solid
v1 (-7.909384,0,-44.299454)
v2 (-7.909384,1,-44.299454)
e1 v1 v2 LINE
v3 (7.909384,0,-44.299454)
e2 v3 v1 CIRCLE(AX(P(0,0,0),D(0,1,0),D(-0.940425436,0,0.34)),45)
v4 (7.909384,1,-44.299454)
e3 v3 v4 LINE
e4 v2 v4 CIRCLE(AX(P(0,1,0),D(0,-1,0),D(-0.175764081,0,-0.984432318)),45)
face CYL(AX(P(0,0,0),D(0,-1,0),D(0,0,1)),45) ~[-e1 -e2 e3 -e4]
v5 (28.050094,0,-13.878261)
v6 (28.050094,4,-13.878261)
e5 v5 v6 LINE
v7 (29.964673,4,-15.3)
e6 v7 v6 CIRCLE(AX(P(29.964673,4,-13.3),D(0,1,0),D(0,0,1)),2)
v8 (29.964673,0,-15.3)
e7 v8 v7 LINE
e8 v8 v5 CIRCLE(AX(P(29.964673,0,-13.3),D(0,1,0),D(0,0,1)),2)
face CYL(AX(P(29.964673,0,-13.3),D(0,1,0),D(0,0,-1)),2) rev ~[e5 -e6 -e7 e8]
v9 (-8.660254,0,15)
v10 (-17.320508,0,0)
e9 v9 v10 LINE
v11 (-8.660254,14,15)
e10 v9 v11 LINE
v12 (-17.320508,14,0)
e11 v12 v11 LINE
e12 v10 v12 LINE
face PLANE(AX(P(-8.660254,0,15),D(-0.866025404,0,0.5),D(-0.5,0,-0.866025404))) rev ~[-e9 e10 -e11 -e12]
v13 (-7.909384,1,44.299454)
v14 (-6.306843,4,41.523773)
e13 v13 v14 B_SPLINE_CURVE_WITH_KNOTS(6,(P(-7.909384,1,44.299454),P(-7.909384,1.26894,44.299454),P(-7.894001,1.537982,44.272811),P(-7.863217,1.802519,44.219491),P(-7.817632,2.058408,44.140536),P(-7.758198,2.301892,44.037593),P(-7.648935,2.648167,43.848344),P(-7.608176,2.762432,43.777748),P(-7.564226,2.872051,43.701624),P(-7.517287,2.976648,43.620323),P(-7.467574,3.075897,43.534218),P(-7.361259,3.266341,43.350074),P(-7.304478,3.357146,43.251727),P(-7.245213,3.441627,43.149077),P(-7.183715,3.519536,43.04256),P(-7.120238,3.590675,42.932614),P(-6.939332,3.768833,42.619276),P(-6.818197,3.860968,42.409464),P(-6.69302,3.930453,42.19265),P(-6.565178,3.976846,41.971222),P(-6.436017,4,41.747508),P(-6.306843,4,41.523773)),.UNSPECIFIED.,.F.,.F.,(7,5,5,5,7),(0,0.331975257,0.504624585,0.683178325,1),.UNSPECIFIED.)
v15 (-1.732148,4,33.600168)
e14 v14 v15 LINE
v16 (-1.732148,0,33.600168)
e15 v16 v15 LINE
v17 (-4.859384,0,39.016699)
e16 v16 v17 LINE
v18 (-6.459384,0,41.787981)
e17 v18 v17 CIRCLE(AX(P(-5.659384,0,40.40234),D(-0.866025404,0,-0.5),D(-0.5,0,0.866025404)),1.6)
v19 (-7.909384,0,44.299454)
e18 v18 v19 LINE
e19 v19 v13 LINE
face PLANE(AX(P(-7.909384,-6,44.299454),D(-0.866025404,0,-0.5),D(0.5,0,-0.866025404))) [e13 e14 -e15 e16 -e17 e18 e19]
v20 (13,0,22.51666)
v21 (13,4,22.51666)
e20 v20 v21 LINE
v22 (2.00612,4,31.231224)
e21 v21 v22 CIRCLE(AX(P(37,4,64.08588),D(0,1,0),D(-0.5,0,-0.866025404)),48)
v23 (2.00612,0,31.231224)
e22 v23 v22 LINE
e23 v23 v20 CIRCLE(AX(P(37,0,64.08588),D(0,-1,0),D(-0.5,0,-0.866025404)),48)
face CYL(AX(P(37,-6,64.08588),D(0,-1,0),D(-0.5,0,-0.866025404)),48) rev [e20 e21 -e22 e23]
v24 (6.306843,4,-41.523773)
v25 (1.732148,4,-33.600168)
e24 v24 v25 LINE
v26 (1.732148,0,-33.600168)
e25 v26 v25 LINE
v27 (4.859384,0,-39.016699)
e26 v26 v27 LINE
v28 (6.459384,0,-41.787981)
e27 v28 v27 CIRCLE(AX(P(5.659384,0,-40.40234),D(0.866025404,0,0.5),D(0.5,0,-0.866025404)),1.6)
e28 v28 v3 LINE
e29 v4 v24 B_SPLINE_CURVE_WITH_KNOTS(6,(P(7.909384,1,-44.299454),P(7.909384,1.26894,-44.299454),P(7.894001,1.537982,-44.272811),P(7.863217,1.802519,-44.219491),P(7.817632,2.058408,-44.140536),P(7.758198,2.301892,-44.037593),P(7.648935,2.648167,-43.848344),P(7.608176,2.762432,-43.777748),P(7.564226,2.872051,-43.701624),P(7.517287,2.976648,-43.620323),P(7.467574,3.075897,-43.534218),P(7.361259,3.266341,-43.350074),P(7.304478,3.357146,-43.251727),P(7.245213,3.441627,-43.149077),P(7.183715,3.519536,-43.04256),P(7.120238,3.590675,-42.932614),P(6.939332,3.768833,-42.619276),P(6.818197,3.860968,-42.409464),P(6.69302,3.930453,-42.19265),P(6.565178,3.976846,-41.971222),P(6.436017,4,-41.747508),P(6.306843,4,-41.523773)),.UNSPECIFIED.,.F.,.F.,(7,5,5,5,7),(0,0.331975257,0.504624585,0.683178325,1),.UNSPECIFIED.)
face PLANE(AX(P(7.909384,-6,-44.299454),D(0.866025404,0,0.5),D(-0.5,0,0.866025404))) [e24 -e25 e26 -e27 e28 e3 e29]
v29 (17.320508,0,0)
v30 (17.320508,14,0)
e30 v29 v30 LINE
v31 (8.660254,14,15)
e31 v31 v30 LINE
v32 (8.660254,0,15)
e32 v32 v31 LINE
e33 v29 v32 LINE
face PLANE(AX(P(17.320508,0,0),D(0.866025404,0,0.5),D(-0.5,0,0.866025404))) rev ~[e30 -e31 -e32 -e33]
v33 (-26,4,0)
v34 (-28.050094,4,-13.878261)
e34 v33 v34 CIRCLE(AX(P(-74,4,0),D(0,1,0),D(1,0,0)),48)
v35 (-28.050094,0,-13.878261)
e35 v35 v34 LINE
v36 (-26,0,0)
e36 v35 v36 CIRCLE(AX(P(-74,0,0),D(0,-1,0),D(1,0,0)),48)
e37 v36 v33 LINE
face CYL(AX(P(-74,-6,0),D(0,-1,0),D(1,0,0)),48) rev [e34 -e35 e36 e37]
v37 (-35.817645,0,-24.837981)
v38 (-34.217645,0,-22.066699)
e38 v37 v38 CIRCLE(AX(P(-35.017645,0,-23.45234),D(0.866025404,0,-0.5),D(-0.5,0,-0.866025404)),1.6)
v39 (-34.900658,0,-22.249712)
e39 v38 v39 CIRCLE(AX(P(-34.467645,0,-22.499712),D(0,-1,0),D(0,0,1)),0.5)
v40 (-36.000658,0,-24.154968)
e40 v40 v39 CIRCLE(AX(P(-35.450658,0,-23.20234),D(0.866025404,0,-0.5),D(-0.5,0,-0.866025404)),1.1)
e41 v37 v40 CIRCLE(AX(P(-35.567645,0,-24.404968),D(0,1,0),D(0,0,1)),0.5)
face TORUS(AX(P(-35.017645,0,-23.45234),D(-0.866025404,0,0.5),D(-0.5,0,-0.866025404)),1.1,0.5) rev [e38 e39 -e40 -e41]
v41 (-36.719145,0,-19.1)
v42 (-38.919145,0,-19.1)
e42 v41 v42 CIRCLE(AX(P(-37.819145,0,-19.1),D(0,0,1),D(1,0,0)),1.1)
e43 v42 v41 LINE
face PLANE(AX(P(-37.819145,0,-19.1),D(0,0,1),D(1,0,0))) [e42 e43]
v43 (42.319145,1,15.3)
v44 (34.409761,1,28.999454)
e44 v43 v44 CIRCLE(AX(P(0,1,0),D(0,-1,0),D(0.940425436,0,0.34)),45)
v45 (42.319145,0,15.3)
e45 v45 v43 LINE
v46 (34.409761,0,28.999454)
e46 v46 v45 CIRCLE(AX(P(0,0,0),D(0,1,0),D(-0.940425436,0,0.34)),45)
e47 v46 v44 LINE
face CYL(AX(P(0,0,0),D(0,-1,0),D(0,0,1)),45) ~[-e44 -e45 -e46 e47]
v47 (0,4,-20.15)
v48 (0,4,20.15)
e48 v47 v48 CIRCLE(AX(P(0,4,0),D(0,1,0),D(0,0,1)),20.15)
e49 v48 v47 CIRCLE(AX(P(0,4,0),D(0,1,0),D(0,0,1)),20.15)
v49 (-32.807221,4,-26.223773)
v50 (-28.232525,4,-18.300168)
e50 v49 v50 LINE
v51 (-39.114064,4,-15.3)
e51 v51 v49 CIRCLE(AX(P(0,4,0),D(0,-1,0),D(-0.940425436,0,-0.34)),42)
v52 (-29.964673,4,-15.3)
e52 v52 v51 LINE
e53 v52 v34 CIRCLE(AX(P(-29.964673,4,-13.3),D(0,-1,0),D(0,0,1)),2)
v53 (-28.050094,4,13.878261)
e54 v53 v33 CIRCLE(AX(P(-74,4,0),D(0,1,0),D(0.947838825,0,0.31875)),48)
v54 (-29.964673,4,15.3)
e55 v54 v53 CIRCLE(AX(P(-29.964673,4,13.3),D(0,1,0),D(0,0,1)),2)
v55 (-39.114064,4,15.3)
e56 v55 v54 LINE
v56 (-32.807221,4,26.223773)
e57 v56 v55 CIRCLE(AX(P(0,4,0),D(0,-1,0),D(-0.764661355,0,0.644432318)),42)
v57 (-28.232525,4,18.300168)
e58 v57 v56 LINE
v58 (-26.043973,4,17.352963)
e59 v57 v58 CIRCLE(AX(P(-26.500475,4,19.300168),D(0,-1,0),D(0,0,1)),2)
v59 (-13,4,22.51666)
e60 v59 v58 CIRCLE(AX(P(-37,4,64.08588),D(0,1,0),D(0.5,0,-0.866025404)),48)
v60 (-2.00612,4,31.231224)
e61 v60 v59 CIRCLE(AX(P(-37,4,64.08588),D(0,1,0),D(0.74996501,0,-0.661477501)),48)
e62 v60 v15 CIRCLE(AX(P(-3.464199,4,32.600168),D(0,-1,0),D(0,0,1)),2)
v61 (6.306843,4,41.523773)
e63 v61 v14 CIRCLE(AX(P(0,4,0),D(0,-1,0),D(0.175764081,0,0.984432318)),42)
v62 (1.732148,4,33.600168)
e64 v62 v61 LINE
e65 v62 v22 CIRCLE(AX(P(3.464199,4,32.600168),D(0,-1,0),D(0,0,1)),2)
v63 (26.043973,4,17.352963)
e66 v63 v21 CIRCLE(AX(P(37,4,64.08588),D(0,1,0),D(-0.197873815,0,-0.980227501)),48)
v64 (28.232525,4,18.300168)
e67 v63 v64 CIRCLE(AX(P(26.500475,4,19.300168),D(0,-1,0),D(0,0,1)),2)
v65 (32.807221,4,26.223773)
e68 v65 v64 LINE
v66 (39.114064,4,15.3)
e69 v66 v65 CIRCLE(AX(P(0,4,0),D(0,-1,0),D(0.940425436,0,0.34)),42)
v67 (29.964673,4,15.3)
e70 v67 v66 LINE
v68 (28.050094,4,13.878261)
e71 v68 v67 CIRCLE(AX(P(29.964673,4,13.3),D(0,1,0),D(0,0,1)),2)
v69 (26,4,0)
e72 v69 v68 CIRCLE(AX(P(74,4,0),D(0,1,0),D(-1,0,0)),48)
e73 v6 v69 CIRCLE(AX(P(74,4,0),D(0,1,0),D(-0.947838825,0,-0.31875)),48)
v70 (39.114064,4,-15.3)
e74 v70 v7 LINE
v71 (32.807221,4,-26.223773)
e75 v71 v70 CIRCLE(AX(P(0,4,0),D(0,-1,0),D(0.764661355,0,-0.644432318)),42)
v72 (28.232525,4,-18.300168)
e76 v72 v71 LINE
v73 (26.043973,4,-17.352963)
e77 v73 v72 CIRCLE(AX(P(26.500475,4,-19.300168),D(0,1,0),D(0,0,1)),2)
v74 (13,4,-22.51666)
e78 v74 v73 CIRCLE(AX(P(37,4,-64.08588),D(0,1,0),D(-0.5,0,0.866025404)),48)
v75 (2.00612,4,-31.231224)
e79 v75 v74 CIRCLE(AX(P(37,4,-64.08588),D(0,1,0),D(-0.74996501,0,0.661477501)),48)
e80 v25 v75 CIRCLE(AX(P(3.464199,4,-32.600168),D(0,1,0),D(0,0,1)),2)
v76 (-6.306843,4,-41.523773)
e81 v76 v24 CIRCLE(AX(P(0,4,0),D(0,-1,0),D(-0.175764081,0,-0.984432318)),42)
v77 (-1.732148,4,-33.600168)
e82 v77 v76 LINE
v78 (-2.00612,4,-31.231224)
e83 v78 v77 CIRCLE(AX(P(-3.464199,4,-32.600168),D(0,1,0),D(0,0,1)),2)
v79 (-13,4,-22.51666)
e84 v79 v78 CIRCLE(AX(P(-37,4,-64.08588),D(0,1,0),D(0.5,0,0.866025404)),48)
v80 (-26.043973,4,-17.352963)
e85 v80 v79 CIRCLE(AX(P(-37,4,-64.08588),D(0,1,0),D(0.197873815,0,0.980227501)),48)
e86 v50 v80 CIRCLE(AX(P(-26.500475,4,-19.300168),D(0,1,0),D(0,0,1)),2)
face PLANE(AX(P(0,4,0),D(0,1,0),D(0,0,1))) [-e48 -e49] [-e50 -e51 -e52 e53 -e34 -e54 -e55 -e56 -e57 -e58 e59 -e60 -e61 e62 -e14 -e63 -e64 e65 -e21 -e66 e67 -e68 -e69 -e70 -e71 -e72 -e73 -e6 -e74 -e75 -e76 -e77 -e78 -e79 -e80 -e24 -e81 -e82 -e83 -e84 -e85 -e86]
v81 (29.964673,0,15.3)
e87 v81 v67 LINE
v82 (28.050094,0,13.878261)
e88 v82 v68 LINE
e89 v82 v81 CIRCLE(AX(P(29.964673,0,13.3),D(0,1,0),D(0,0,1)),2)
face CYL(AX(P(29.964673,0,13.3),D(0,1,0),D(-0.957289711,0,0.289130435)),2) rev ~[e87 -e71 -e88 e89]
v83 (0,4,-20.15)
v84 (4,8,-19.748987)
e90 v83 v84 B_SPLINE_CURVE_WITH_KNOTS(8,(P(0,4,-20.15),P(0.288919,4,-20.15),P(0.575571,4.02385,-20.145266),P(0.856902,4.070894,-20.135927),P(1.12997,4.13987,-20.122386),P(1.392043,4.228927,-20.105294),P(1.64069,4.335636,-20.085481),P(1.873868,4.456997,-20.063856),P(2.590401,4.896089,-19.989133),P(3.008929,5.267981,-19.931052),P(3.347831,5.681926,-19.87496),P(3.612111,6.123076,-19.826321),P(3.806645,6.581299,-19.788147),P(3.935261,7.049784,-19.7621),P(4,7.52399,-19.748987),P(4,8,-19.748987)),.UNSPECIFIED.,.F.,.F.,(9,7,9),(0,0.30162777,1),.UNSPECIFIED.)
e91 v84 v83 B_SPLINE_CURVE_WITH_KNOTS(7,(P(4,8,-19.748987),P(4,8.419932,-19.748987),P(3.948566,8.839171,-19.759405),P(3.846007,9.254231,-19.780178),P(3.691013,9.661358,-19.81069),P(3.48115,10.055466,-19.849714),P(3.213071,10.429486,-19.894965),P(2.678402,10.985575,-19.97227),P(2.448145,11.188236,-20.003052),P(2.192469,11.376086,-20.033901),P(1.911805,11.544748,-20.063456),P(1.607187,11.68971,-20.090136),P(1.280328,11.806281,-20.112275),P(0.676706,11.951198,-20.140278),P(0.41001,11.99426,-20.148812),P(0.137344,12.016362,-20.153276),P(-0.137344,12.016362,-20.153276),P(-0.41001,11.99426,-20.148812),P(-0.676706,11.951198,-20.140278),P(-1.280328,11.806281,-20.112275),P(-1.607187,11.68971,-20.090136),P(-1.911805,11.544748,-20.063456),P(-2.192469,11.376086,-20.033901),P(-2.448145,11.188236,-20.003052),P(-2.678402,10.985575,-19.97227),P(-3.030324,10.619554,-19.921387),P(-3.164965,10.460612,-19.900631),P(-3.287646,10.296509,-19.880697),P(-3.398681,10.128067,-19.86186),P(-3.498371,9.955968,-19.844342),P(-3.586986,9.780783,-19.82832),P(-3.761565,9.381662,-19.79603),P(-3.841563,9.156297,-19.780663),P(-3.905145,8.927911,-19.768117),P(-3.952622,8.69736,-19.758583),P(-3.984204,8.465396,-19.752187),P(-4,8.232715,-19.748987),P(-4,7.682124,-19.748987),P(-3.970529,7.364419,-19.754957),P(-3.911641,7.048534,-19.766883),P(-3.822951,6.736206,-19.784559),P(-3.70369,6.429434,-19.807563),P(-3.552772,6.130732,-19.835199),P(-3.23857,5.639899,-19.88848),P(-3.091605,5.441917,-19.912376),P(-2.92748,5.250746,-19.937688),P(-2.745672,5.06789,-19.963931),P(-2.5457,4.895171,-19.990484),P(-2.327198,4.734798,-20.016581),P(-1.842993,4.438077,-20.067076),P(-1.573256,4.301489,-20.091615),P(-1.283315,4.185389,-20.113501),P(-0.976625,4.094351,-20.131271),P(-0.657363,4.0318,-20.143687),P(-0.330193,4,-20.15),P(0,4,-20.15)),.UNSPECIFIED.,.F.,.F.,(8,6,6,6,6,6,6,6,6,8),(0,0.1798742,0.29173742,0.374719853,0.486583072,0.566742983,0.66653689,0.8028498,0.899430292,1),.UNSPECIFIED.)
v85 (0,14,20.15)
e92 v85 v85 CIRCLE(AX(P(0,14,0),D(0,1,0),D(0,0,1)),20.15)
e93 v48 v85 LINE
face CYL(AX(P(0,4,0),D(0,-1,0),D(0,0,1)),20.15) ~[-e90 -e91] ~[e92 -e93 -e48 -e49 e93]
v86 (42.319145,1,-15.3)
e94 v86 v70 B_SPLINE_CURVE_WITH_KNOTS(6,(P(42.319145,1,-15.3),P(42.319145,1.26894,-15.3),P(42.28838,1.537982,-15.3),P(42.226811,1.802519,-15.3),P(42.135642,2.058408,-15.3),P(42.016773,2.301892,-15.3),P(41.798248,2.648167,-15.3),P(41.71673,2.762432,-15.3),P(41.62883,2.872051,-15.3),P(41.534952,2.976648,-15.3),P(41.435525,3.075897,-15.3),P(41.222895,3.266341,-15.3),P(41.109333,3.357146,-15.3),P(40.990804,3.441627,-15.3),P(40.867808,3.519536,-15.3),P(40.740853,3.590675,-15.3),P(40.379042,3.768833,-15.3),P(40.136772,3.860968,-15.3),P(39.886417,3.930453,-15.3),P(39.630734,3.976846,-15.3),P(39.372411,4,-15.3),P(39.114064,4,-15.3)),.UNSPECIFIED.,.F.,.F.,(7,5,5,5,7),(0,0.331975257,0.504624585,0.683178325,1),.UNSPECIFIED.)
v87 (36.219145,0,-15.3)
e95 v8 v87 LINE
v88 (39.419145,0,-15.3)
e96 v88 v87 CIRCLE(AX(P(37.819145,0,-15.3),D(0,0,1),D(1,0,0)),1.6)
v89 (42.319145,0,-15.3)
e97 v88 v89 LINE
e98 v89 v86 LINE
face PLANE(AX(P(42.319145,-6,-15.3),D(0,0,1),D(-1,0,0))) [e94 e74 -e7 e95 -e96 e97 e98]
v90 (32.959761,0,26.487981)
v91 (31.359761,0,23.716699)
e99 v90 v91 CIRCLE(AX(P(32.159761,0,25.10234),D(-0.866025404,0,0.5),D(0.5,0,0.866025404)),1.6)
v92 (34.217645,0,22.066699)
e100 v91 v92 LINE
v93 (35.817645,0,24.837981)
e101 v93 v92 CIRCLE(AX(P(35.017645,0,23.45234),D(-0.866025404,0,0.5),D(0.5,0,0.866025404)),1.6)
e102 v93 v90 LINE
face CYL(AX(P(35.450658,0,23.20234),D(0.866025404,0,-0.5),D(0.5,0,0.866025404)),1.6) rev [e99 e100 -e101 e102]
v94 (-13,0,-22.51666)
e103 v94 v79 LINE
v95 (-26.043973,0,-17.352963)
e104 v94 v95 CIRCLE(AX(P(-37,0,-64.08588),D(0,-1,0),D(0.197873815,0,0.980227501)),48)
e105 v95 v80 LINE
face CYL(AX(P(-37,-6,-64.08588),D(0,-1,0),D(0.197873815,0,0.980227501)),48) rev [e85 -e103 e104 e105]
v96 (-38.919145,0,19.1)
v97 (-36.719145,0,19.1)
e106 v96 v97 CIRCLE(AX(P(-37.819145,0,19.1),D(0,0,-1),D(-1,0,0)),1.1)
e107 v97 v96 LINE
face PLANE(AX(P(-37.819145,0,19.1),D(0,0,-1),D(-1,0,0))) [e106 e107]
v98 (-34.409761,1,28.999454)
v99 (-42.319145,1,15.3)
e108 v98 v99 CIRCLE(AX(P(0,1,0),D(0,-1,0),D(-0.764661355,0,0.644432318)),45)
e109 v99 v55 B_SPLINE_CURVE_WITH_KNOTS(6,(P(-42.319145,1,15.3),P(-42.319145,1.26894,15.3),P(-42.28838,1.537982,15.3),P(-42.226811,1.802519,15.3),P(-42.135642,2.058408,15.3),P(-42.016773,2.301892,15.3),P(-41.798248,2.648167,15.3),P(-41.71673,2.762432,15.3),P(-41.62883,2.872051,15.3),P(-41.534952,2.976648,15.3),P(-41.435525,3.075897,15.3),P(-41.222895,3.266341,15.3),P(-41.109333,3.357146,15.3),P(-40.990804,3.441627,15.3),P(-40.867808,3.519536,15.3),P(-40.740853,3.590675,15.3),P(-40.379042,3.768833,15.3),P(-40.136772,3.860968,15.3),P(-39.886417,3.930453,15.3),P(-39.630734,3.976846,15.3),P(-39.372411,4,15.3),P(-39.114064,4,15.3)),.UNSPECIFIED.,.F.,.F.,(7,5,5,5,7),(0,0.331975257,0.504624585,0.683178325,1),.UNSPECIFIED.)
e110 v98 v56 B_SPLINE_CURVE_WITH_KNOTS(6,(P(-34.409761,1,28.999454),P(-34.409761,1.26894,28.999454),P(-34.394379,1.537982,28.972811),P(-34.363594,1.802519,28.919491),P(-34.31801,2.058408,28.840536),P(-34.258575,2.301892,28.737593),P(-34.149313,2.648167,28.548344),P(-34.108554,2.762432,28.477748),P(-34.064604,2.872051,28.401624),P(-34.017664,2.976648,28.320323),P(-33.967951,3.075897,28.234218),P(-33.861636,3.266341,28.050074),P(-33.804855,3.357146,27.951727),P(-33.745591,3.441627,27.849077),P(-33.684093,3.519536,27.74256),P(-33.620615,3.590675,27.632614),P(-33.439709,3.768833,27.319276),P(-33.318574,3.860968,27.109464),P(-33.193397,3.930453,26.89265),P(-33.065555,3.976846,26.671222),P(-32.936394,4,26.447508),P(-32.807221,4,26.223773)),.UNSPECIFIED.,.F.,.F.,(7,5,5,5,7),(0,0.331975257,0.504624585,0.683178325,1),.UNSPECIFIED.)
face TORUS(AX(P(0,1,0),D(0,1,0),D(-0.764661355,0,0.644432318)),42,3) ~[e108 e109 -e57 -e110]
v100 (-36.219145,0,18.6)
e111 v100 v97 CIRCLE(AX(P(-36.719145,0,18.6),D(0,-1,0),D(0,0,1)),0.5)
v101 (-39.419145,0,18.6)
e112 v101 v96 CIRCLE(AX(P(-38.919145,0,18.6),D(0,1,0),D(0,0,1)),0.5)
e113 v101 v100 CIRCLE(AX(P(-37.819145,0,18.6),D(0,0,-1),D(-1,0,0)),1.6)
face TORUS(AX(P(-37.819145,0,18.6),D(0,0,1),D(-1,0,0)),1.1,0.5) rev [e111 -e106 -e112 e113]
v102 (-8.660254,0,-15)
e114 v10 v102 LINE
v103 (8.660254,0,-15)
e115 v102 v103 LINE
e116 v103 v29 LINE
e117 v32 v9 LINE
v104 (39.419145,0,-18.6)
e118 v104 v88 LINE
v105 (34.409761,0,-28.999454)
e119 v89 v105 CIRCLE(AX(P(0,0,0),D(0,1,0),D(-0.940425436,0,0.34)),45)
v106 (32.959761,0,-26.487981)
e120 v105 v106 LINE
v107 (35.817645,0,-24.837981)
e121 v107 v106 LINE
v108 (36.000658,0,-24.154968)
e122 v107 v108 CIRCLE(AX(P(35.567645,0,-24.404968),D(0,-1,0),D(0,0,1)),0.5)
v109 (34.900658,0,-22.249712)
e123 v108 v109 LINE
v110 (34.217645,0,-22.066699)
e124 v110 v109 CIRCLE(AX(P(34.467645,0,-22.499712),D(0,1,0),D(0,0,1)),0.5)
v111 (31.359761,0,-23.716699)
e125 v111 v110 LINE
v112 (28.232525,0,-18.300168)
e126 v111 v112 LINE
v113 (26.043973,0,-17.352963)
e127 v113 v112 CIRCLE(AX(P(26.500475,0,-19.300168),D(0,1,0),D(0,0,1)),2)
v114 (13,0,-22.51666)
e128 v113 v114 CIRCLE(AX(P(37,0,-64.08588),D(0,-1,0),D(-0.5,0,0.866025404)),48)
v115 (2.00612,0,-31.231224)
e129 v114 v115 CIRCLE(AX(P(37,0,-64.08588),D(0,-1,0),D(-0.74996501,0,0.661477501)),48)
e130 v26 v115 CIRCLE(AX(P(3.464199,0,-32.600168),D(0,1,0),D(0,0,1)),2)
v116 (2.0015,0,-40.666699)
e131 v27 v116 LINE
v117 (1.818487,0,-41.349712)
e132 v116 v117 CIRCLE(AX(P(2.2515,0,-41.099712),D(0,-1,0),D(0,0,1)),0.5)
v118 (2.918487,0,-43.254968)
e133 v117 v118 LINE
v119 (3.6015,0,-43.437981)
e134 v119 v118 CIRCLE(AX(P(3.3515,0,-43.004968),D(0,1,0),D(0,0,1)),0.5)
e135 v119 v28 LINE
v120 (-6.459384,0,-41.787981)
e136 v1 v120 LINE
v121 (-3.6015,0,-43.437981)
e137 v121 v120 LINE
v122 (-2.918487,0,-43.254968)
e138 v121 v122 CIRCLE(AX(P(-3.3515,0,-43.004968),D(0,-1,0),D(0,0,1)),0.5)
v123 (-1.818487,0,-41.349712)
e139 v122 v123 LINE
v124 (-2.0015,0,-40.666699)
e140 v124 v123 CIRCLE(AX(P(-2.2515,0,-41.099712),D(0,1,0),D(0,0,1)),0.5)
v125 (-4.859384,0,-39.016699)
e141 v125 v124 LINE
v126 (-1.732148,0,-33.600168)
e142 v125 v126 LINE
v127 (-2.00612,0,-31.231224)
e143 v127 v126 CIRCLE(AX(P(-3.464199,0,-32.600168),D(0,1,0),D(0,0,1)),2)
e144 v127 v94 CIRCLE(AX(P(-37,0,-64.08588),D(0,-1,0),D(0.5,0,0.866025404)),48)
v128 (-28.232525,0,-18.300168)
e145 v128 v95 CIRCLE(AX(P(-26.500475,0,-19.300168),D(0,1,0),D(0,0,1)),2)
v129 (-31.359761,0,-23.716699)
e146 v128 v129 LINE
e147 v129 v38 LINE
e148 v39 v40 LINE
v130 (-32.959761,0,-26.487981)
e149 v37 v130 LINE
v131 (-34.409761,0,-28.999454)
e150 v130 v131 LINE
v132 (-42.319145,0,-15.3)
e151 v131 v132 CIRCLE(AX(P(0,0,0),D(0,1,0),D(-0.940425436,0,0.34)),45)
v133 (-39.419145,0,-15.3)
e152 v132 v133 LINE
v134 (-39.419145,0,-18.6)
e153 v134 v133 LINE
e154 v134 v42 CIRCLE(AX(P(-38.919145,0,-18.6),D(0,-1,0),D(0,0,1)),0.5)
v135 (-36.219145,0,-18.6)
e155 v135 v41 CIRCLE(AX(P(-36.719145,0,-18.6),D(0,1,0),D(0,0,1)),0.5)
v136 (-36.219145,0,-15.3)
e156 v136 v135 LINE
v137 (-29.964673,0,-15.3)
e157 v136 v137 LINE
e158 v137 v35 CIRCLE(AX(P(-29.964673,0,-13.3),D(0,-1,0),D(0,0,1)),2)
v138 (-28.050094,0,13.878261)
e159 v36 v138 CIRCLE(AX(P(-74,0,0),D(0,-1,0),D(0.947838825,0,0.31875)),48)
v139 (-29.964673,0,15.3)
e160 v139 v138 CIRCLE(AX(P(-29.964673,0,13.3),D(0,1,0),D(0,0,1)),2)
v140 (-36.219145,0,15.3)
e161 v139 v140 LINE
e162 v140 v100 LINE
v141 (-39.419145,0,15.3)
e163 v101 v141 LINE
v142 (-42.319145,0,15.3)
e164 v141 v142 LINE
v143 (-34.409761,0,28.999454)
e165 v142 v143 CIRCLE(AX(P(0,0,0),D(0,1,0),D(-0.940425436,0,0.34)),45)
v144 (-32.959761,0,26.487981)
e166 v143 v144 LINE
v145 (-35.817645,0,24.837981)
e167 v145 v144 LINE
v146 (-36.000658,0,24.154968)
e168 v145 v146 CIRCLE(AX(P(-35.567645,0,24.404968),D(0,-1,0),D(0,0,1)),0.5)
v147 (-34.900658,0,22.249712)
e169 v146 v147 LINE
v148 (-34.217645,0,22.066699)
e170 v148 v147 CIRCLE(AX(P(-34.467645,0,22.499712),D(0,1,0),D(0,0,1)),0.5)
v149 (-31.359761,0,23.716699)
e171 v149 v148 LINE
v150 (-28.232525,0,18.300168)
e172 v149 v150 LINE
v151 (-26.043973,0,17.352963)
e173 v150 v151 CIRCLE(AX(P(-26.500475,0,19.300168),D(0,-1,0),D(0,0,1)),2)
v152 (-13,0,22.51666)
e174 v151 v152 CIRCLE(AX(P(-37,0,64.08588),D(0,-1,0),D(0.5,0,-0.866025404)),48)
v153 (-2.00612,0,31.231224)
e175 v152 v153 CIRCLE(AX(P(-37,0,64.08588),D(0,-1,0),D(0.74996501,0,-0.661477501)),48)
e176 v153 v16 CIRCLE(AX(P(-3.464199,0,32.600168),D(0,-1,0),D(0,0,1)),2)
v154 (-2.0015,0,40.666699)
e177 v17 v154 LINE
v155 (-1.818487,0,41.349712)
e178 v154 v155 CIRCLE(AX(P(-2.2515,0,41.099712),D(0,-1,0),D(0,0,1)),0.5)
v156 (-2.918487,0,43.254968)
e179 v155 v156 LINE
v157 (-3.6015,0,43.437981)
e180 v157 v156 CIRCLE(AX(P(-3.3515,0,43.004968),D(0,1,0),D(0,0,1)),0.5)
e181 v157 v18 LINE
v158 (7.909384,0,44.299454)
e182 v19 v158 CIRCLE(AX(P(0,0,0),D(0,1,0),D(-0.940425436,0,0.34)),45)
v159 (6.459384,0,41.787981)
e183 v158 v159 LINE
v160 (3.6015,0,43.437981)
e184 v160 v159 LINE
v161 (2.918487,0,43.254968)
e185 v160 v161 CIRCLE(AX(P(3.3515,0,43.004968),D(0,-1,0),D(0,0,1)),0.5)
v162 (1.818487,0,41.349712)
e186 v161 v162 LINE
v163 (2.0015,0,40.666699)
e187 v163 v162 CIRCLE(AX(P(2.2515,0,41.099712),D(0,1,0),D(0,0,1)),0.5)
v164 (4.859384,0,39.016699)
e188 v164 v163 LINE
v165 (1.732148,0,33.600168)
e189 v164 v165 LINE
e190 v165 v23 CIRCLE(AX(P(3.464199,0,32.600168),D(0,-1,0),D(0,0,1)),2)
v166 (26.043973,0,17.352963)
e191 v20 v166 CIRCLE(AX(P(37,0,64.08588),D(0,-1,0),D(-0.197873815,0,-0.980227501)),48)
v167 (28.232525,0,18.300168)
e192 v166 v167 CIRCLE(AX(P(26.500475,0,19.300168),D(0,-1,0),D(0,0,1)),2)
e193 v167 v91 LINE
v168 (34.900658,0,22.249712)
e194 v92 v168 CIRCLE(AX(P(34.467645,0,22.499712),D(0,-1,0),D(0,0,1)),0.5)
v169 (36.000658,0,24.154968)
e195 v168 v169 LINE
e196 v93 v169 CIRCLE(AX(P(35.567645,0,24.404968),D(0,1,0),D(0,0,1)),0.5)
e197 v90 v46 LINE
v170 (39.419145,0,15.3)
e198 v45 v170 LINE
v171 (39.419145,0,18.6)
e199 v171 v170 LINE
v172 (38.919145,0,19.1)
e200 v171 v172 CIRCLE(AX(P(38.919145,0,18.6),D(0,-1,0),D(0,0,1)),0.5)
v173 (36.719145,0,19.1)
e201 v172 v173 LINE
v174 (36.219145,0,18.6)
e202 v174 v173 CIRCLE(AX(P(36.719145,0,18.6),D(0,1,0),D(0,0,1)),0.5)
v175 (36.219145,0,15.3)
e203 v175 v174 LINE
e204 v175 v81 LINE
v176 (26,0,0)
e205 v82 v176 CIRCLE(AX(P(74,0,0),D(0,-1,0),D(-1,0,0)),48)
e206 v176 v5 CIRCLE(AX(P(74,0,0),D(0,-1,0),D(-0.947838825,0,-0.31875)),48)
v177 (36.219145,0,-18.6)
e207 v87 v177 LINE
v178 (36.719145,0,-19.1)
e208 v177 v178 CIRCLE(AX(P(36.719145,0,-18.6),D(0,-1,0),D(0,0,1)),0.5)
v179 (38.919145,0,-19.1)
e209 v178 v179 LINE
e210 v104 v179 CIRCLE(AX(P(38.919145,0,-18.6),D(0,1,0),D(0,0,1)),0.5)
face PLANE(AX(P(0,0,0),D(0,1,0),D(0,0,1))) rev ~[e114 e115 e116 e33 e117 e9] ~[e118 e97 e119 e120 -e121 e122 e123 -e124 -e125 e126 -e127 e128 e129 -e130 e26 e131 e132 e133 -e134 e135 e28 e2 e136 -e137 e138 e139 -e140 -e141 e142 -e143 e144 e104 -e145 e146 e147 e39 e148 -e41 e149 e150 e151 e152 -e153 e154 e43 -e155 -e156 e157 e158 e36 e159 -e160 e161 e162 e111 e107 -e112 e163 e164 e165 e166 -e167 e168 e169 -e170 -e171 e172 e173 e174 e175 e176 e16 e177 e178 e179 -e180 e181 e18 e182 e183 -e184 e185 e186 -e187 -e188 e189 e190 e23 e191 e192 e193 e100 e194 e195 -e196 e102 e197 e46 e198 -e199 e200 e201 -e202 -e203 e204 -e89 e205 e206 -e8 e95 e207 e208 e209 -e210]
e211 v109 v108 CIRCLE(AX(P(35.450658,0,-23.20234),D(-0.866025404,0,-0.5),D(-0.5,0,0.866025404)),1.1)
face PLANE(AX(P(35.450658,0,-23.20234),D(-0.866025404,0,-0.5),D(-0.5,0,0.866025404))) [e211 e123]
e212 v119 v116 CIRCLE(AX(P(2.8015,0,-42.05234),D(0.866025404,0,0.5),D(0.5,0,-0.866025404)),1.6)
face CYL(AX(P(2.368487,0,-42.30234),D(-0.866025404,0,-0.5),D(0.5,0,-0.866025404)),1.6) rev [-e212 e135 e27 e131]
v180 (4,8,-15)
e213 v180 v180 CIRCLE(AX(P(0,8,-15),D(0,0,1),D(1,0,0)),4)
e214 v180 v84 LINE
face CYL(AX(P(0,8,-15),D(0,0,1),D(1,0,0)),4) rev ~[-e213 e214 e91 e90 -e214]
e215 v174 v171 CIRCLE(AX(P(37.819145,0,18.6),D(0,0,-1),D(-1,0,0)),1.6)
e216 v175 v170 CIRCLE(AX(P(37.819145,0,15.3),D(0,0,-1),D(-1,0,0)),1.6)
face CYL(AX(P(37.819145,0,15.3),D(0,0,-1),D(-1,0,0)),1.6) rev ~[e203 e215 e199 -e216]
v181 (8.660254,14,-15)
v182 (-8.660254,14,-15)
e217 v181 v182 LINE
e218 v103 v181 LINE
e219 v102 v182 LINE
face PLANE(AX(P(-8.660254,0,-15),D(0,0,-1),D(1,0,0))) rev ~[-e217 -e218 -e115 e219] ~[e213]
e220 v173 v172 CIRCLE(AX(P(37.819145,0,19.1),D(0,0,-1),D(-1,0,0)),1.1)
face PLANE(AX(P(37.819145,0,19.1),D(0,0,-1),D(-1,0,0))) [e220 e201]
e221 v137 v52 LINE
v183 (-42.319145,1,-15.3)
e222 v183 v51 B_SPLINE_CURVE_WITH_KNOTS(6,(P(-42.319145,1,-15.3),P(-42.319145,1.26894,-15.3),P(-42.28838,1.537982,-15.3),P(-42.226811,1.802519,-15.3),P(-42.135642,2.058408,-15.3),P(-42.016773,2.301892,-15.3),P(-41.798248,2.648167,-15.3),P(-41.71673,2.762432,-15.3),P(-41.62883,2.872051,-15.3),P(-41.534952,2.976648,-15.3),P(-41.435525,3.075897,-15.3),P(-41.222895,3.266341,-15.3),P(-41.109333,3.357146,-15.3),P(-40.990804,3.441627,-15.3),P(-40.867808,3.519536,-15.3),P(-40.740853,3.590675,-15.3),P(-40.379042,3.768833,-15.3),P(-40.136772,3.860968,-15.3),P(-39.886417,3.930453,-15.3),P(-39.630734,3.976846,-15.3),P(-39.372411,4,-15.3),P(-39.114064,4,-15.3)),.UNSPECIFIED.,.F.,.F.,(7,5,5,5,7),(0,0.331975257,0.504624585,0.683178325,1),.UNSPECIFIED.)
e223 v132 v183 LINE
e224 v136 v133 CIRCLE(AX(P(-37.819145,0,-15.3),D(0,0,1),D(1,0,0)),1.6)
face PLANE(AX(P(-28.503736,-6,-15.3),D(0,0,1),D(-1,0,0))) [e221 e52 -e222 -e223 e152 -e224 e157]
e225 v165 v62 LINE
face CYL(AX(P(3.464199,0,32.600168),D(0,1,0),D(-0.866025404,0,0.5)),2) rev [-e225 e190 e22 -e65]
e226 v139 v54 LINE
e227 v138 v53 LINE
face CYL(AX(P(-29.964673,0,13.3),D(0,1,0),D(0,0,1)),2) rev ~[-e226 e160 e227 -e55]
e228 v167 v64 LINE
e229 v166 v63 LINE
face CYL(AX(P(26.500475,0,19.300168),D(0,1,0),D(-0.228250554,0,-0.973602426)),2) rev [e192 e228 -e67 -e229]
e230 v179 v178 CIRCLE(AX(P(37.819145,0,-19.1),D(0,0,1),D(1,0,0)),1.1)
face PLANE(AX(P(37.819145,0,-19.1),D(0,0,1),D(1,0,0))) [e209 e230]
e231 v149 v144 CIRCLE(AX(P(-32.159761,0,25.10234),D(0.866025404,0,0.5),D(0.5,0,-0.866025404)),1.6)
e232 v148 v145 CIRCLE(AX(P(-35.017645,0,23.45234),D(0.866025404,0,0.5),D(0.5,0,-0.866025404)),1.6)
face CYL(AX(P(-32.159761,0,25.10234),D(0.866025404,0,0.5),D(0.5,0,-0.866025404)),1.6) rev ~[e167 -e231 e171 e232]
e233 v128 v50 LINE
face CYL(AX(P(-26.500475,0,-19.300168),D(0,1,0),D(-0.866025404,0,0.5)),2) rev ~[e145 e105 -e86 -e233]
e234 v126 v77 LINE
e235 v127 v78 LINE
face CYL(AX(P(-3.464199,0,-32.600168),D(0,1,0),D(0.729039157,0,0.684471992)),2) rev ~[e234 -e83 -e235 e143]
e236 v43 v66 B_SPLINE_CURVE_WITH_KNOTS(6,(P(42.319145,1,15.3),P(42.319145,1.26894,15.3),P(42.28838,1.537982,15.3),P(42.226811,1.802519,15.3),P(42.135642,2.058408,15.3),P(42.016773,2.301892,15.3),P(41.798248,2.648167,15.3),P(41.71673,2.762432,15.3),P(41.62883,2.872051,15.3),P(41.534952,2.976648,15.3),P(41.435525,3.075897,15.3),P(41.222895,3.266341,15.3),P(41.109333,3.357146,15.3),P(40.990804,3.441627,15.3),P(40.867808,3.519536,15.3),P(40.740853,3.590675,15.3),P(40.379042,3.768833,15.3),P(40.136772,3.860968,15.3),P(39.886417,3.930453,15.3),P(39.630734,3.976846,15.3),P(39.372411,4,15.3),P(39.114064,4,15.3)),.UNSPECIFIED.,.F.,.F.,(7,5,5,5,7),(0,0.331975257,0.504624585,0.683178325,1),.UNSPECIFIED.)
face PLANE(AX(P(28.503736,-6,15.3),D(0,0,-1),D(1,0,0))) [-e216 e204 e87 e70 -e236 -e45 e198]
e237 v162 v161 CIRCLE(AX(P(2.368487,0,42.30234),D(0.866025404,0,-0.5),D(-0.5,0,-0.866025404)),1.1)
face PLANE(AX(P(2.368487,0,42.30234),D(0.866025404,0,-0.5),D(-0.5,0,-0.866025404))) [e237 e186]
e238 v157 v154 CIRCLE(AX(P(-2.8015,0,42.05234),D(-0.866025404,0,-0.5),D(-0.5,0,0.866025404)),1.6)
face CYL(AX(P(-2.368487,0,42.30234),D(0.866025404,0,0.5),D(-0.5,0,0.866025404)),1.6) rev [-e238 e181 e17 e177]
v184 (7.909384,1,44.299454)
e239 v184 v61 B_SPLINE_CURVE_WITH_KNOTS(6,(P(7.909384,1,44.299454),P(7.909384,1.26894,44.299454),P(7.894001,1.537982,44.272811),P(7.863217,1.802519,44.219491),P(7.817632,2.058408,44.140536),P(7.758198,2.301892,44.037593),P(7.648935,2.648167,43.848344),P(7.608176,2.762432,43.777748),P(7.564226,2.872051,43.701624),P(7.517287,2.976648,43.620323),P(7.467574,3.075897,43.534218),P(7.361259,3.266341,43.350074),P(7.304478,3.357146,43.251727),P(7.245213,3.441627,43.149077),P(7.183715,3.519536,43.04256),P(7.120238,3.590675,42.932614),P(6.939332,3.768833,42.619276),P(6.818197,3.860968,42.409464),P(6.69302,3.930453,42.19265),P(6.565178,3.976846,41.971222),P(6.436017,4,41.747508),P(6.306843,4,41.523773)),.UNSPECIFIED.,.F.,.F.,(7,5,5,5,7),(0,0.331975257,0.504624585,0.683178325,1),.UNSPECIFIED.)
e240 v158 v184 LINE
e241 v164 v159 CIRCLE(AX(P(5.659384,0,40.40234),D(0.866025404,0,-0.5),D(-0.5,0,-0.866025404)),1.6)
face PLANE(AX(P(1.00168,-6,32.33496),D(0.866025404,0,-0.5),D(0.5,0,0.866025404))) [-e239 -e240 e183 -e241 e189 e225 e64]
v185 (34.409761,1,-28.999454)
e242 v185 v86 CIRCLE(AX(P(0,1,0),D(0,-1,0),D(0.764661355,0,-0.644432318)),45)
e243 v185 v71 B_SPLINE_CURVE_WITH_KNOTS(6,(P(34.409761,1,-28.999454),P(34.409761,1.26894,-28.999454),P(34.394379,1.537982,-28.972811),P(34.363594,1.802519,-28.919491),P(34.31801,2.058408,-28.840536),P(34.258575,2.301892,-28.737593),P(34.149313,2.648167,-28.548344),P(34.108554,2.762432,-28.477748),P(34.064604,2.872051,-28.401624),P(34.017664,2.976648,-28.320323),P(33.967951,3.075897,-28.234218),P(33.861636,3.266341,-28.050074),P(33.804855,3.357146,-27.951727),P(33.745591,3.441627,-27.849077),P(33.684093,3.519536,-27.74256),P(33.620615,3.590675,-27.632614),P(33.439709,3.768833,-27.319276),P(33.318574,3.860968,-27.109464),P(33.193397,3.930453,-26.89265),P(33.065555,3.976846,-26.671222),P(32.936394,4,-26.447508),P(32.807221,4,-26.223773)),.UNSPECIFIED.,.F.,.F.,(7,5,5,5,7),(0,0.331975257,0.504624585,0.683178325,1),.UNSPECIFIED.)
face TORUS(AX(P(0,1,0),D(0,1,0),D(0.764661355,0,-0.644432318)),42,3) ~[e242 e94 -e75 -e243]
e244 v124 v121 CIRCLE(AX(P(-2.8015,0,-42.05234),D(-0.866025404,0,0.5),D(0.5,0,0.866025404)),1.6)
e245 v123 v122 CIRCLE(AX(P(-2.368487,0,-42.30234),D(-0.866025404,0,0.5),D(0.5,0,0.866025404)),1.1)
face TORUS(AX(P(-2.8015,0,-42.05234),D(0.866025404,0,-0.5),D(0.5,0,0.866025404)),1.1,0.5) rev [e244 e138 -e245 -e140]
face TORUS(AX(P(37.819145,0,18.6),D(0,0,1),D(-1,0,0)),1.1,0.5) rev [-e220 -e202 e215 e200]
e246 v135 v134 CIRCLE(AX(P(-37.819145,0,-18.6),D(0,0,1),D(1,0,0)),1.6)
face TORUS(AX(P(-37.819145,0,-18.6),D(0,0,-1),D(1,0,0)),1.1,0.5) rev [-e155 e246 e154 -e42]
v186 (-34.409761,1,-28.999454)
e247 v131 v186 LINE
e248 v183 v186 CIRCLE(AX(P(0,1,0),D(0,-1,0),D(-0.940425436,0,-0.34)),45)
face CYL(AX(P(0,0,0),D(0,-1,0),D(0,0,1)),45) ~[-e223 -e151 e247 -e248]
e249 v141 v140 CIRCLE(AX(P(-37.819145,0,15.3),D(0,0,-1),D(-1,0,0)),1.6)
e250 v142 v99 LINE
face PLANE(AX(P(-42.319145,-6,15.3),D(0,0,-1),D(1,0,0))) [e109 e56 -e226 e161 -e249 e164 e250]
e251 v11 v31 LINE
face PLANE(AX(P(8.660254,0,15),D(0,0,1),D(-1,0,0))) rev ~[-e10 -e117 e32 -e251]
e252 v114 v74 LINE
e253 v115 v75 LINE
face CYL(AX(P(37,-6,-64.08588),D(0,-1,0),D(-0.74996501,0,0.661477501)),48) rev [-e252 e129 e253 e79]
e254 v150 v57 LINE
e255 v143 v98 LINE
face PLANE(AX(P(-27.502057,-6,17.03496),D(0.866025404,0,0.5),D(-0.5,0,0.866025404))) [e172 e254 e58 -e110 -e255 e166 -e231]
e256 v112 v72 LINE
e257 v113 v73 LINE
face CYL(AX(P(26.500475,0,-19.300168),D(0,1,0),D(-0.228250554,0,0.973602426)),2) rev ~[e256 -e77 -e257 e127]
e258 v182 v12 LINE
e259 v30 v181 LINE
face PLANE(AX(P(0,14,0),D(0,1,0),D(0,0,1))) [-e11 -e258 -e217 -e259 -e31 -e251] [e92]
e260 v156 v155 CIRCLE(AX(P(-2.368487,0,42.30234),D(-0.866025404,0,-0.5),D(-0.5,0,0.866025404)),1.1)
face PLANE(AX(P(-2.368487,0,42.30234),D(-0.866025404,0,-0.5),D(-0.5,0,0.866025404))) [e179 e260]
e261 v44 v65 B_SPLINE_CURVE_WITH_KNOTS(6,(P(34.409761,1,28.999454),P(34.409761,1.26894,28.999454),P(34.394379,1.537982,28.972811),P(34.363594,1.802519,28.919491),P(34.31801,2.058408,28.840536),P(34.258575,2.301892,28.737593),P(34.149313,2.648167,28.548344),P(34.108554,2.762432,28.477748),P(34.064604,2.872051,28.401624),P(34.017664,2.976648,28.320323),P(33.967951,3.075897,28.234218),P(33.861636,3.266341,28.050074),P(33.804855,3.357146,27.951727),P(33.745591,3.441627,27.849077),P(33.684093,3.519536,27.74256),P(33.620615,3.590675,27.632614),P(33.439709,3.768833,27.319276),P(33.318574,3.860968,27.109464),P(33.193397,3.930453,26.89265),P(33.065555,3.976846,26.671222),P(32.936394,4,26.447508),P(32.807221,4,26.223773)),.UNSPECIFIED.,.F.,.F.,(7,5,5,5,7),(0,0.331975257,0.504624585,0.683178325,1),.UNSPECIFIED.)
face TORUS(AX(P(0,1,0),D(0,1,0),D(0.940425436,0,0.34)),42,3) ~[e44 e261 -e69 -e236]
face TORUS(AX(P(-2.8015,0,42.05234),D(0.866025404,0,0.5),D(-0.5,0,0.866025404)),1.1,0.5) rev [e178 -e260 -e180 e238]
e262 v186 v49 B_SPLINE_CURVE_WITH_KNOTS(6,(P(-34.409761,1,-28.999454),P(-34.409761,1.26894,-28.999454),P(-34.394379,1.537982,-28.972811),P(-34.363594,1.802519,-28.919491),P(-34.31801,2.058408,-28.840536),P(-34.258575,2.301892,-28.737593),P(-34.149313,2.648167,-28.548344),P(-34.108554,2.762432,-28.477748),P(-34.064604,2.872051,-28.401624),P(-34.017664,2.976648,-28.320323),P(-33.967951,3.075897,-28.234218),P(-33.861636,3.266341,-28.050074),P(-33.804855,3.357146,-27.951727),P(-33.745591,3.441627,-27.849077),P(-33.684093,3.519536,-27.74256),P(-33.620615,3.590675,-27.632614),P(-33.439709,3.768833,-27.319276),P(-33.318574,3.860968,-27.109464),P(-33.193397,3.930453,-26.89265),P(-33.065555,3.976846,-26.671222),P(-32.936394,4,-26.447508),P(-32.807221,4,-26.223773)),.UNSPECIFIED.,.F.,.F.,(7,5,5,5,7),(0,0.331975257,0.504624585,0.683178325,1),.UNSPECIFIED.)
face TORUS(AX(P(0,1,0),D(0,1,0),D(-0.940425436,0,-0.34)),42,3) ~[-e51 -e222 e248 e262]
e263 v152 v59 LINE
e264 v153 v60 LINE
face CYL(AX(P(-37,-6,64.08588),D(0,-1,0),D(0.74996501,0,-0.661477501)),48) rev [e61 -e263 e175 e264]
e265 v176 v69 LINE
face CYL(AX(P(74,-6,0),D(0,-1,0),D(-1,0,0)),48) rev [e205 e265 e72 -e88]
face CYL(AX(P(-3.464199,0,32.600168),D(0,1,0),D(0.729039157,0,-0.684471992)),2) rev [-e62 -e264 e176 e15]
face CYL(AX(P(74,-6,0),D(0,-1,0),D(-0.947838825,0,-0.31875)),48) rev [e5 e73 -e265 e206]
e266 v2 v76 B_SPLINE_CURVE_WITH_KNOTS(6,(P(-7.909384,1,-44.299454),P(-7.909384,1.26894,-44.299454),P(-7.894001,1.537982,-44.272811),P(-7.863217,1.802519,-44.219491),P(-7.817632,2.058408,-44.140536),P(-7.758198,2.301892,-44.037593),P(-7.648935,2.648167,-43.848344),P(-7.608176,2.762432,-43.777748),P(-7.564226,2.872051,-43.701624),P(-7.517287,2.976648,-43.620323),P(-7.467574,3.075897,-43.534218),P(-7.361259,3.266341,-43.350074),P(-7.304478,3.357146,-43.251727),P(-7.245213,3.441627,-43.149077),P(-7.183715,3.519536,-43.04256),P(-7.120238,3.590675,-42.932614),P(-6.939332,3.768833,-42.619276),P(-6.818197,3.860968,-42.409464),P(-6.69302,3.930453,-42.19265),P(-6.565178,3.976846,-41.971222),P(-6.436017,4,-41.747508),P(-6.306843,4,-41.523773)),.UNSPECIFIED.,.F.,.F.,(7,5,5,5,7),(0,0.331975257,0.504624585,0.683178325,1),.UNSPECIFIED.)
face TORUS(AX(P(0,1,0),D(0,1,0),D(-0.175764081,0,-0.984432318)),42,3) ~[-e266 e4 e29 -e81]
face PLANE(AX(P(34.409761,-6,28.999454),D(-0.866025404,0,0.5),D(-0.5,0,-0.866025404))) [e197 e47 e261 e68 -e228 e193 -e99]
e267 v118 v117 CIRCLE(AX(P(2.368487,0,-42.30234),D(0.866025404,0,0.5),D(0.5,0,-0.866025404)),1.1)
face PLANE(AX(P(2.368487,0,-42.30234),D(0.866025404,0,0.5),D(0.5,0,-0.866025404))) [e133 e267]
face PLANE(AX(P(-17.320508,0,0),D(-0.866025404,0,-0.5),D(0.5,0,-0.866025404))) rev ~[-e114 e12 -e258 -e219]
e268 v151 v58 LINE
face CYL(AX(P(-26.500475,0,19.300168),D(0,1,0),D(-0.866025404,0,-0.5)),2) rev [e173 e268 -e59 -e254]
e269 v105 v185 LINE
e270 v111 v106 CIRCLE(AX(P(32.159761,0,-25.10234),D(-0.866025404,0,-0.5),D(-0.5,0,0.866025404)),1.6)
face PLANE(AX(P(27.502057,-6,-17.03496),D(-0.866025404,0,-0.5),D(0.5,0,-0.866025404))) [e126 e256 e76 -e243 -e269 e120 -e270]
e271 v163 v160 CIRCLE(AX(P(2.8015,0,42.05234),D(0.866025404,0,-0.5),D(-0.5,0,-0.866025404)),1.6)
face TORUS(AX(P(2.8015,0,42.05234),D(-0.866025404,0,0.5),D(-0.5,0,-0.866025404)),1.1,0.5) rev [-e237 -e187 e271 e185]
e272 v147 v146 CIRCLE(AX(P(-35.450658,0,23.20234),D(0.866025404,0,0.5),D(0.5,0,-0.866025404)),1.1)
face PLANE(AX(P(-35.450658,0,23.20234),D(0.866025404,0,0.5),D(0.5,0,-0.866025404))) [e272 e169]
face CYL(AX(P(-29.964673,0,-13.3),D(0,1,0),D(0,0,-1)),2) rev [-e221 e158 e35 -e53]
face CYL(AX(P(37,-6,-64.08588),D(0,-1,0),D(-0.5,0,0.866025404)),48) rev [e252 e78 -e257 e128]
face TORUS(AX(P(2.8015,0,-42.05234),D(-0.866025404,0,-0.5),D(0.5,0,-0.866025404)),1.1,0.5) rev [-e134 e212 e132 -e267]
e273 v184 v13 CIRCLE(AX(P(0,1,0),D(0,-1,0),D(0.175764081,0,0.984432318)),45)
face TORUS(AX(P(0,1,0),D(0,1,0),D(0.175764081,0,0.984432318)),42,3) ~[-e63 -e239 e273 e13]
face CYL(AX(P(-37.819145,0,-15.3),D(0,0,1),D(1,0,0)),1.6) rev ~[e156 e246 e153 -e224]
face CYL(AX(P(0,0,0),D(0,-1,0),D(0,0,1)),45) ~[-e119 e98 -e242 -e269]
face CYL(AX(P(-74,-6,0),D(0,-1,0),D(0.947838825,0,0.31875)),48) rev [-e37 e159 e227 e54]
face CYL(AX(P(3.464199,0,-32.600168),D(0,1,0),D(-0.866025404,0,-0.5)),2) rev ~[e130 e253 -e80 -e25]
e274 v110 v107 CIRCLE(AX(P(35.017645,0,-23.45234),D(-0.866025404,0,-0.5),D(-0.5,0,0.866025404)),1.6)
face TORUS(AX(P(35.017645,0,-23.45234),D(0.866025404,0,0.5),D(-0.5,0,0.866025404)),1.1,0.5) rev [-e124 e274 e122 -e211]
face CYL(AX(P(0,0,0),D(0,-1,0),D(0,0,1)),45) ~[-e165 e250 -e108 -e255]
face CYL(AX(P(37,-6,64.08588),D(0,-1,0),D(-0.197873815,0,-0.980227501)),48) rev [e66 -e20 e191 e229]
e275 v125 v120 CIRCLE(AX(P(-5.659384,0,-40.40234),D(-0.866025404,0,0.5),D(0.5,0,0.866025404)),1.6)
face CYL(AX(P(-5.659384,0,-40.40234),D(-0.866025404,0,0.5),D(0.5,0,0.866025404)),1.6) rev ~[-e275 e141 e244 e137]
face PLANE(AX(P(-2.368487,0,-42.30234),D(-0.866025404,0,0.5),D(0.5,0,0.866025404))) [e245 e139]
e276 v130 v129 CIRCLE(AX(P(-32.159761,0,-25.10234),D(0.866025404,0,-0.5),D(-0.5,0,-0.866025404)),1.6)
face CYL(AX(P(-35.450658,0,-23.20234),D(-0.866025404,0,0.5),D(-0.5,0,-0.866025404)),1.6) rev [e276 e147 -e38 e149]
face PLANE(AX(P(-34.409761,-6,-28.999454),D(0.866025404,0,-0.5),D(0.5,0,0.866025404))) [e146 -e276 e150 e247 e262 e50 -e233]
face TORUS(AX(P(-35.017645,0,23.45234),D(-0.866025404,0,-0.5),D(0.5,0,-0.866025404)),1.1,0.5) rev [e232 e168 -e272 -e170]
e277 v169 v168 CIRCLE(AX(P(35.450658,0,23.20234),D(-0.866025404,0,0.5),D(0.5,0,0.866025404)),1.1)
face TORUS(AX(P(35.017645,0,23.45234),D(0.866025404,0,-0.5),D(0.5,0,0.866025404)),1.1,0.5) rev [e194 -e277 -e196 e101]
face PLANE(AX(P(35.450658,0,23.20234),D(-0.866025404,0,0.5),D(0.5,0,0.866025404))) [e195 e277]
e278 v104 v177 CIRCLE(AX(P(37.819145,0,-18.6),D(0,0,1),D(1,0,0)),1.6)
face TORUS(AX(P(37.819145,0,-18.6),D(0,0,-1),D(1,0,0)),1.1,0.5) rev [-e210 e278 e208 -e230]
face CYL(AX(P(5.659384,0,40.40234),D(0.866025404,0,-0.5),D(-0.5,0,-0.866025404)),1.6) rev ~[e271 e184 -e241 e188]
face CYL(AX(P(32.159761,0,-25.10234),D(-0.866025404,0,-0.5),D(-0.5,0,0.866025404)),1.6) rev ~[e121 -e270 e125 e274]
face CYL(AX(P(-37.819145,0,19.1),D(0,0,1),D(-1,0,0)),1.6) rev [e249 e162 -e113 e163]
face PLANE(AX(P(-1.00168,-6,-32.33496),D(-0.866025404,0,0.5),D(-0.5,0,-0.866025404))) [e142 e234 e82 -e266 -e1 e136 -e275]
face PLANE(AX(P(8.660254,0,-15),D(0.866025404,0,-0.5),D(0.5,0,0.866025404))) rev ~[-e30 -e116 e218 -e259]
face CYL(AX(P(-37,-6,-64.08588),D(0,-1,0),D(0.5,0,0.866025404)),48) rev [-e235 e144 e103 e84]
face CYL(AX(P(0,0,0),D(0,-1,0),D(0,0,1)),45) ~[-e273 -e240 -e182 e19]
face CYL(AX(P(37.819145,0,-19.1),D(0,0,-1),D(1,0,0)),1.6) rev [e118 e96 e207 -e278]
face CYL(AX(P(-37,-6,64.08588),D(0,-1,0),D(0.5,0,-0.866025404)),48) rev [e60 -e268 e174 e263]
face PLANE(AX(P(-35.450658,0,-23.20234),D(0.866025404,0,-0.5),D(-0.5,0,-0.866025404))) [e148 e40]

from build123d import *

# Parameters (mm, degrees)
SKIZZE1_R                       = 45
AUFSATZ_LINEAR_AUSTRAGEN1_DEPTH = 4
SCHNITT_LINEAR_START            = -10
SCHNITT_LINEAR_AUSTRAGEN2_DEPTH = 10
KREISMUSTER1_COUNT              = 6
SKIZZE4_R                       = 20.15
AUFSATZ_LINEAR_AUSTRAGEN2_DEPTH = 10
SCHNITT_LINEAR_AUSTRAGEN3_DEPTH = 16
VERRUNDUNG1_R                   = 2
SKIZZE5_R                       = 1.6
SCHNITT_LINEAR_AUSTRAGEN5_DEPTH = 3.8
VERRUNDUNG3_R                   = 0.5
KREISMUSTER2_COUNT              = 6
VERRUNDUNG3_OF_KREISMUSTER2_R   = 0.5
SCHNITT_LINEAR_START_2          = -3.8
SKIZZE6_R                       = 1.6
SCHNITT_LINEAR_AUSTRAGEN6_DEPTH = 3.8
VERRUNDUNG4_R                   = 0.5
KREISMUSTER3_COUNT              = 6
VERRUNDUNG4_OF_KREISMUSTER3_R   = 0.5
VERRUNDUNG2_R                   = 3
SKIZZE7_R                       = 4
SCHNITT_LINEAR_AUSTRAGEN7_DEPTH = 10


with BuildPart() as part:
    # Skizze1 → Aufsatz-Linear austragen1 (new body)
    with BuildSketch(Plane(origin=(0, 0, 0), x_dir=(1, 0, 0), z_dir=(0, 1, 0))):
        with Locations(Location((0, 0, 0), (0, 0, 270))):
            Circle(SKIZZE1_R)
    extrude(amount=AUFSATZ_LINEAR_AUSTRAGEN1_DEPTH)

    # Skizze2 → Schnitt-Linear austragen2 (cut)
    with BuildSketch(Plane(origin=(0, 4, 0), x_dir=(1, 0, 0), z_dir=(0, 1, 0)).offset(SCHNITT_LINEAR_START)):
        with BuildLine():
            ThreePointArc((-26, 0), (-26.63006939, 7.751752964), (-28.503736417, 15.3))
            Line((-28.503736417, 15.3), (-42.319144604, 15.3))
            ThreePointArc((-42.319144604, 15.3), (-45, 0), (-42.319144604, -15.3))
            Line((-42.319144604, -15.3), (-28.503736417, -15.3))
            ThreePointArc((-28.503736417, -15.3), (-26.63006939, -7.751752964), (-26, 0))
        make_face()
    schnitt_linear_austragen2 = extrude(amount=SCHNITT_LINEAR_AUSTRAGEN2_DEPTH, mode=Mode.SUBTRACT)

    # Kreismuster1: Schnitt-Linear austragen2 ×6 about axis
    kreismuster1_axis = Axis((0, 0, 0), (0, 1, 0))
    for i in range(1, KREISMUSTER1_COUNT):
        add(schnitt_linear_austragen2.rotate(kreismuster1_axis, i * 360 / KREISMUSTER1_COUNT), mode=Mode.SUBTRACT)

    # Skizze4 → Aufsatz-Linear austragen2 (add)
    with BuildSketch(Plane(origin=(0, 4, 0), x_dir=(1, 0, 0), z_dir=(0, 1, 0))):
        with Locations(Location((0, 0, 0), (0, 0, 270))):
            Circle(SKIZZE4_R)
    extrude(amount=AUFSATZ_LINEAR_AUSTRAGEN2_DEPTH)

    # Skizze3 → Schnitt-Linear austragen3 (cut)
    with BuildSketch(Plane.XZ):
        Polygon((17.320508076, 0), (8.660254038, 15), (-8.660254038, 15), (-17.320508076, 0), (-8.660254038, -15), (8.660254038, -15), align=None)
    extrude(amount=-SCHNITT_LINEAR_AUSTRAGEN3_DEPTH, mode=Mode.SUBTRACT)

    # Verrundung1
    verrundung1_edges = [part.edges().sort_by_distance(p)[0] for p in [
        (-28.503736417, 2, 15.3),
        (-28.503736417, 2, -15.3),
        (-27.502056886, 2, -17.03495984),
        (-1.001679531, 2, -32.33495984),
        (1.001679531, 2, -32.33495984),
        (27.502056886, 2, -17.03495984),
        (28.503736417, 2, -15.3),
        (28.503736417, 2, 15.3),
        (27.502056886, 2, 17.03495984),
        (1.001679531, 2, 32.33495984),
        (-1.001679531, 2, 32.33495984),
        (-27.502056886, 2, 17.03495984),
    ]]
    fillet(verrundung1_edges, radius=VERRUNDUNG1_R)

    # Skizze5 → Schnitt-Linear austragen5 (cut)
    with BuildSketch(Plane(origin=(13.250188678, 0, 7.65), x_dir=(-0.4999999999999918, 0, 0.8660254037844434), z_dir=(-0.8660254037844434, 0, -0.4999999999999918))):
        with Locations((-37.819144604, 0)):
            Circle(SKIZZE5_R)
    schnitt_linear_austragen5 = extrude(amount=-SCHNITT_LINEAR_AUSTRAGEN5_DEPTH, mode=Mode.SUBTRACT)

    # Verrundung3
    verrundung3_edges = [part.edges().sort_by_distance(p)[0] for p in [
        (35.450657514, 1.6, -23.202339976),
    ]]
    fillet(verrundung3_edges, radius=VERRUNDUNG3_R)

    # Kreismuster2: Schnitt-Linear austragen5 ×6 about axis
    kreismuster2_axis = Axis((0, 0, 0), (0, 1, 0))
    for i in range(1, KREISMUSTER2_COUNT):
        add(schnitt_linear_austragen5.rotate(kreismuster2_axis, i * 360 / KREISMUSTER2_COUNT), mode=Mode.SUBTRACT)

    # Verrundung3 of Kreismuster2
    verrundung3_of_kreismuster2_edges = [part.edges().sort_by_distance(p)[0] for p in [
        (-2.36848709, 1.6, -42.302339976),
        (-37.819144604, 1.6, -19.1),
        (-35.450657514, 1.6, 23.202339976),
        (2.36848709, 1.6, 42.302339976),
        (37.819144604, 1.6, 19.1),
    ]]
    fillet(verrundung3_of_kreismuster2_edges, radius=VERRUNDUNG3_OF_KREISMUSTER2_R)

    # Skizze6 → Schnitt-Linear austragen6 (cut)
    with BuildSketch(Plane.XY.offset(-15.3).offset(SCHNITT_LINEAR_START_2)):
        with Locations((37.819144604, 0)):
            Circle(SKIZZE6_R)
    schnitt_linear_austragen6 = extrude(amount=SCHNITT_LINEAR_AUSTRAGEN6_DEPTH, mode=Mode.SUBTRACT)

    # Verrundung4
    verrundung4_edges = [part.edges().sort_by_distance(p)[0] for p in [
        (37.819144604, 1.6, -19.1),
    ]]
    fillet(verrundung4_edges, radius=VERRUNDUNG4_R)

    # Kreismuster3: Schnitt-Linear austragen6 ×6 about axis
    kreismuster3_axis = Axis((0, 0, 0), (0, 1, 0))
    for i in range(1, KREISMUSTER3_COUNT):
        add(schnitt_linear_austragen6.rotate(kreismuster3_axis, i * 360 / KREISMUSTER3_COUNT), mode=Mode.SUBTRACT)

    # Verrundung4 of Kreismuster3
    verrundung4_of_kreismuster3_edges = [part.edges().sort_by_distance(p)[0] for p in [
        (2.36848709, 1.6, -42.302339976),
        (-35.450657514, 1.6, -23.202339976),
        (-37.819144604, 1.6, 19.1),
        (-2.36848709, 1.6, 42.302339976),
        (35.450657514, 1.6, 23.202339976),
    ]]
    fillet(verrundung4_of_kreismuster3_edges, radius=VERRUNDUNG4_OF_KREISMUSTER3_R)

    # Verrundung2
    verrundung2_edges = [part.edges().sort_by_distance(p)[0] for p in [
        (0, 4, 45),
        (38.97114317, 4, 22.5),
        (38.97114317, 4, -22.5),
        (0, 4, -45),
        (-38.97114317, 4, -22.5),
        (-38.97114317, 4, 22.5),
    ]]
    fillet(verrundung2_edges, radius=VERRUNDUNG2_R)

    # Skizze7 → Schnitt-Linear austragen7 (cut)
    with BuildSketch(Plane.XY.offset(-15)):
        with Locations((0, 8)):
            Circle(SKIZZE7_R)
    extrude(amount=-SCHNITT_LINEAR_AUSTRAGEN7_DEPTH, mode=Mode.SUBTRACT)


solid = part.part
